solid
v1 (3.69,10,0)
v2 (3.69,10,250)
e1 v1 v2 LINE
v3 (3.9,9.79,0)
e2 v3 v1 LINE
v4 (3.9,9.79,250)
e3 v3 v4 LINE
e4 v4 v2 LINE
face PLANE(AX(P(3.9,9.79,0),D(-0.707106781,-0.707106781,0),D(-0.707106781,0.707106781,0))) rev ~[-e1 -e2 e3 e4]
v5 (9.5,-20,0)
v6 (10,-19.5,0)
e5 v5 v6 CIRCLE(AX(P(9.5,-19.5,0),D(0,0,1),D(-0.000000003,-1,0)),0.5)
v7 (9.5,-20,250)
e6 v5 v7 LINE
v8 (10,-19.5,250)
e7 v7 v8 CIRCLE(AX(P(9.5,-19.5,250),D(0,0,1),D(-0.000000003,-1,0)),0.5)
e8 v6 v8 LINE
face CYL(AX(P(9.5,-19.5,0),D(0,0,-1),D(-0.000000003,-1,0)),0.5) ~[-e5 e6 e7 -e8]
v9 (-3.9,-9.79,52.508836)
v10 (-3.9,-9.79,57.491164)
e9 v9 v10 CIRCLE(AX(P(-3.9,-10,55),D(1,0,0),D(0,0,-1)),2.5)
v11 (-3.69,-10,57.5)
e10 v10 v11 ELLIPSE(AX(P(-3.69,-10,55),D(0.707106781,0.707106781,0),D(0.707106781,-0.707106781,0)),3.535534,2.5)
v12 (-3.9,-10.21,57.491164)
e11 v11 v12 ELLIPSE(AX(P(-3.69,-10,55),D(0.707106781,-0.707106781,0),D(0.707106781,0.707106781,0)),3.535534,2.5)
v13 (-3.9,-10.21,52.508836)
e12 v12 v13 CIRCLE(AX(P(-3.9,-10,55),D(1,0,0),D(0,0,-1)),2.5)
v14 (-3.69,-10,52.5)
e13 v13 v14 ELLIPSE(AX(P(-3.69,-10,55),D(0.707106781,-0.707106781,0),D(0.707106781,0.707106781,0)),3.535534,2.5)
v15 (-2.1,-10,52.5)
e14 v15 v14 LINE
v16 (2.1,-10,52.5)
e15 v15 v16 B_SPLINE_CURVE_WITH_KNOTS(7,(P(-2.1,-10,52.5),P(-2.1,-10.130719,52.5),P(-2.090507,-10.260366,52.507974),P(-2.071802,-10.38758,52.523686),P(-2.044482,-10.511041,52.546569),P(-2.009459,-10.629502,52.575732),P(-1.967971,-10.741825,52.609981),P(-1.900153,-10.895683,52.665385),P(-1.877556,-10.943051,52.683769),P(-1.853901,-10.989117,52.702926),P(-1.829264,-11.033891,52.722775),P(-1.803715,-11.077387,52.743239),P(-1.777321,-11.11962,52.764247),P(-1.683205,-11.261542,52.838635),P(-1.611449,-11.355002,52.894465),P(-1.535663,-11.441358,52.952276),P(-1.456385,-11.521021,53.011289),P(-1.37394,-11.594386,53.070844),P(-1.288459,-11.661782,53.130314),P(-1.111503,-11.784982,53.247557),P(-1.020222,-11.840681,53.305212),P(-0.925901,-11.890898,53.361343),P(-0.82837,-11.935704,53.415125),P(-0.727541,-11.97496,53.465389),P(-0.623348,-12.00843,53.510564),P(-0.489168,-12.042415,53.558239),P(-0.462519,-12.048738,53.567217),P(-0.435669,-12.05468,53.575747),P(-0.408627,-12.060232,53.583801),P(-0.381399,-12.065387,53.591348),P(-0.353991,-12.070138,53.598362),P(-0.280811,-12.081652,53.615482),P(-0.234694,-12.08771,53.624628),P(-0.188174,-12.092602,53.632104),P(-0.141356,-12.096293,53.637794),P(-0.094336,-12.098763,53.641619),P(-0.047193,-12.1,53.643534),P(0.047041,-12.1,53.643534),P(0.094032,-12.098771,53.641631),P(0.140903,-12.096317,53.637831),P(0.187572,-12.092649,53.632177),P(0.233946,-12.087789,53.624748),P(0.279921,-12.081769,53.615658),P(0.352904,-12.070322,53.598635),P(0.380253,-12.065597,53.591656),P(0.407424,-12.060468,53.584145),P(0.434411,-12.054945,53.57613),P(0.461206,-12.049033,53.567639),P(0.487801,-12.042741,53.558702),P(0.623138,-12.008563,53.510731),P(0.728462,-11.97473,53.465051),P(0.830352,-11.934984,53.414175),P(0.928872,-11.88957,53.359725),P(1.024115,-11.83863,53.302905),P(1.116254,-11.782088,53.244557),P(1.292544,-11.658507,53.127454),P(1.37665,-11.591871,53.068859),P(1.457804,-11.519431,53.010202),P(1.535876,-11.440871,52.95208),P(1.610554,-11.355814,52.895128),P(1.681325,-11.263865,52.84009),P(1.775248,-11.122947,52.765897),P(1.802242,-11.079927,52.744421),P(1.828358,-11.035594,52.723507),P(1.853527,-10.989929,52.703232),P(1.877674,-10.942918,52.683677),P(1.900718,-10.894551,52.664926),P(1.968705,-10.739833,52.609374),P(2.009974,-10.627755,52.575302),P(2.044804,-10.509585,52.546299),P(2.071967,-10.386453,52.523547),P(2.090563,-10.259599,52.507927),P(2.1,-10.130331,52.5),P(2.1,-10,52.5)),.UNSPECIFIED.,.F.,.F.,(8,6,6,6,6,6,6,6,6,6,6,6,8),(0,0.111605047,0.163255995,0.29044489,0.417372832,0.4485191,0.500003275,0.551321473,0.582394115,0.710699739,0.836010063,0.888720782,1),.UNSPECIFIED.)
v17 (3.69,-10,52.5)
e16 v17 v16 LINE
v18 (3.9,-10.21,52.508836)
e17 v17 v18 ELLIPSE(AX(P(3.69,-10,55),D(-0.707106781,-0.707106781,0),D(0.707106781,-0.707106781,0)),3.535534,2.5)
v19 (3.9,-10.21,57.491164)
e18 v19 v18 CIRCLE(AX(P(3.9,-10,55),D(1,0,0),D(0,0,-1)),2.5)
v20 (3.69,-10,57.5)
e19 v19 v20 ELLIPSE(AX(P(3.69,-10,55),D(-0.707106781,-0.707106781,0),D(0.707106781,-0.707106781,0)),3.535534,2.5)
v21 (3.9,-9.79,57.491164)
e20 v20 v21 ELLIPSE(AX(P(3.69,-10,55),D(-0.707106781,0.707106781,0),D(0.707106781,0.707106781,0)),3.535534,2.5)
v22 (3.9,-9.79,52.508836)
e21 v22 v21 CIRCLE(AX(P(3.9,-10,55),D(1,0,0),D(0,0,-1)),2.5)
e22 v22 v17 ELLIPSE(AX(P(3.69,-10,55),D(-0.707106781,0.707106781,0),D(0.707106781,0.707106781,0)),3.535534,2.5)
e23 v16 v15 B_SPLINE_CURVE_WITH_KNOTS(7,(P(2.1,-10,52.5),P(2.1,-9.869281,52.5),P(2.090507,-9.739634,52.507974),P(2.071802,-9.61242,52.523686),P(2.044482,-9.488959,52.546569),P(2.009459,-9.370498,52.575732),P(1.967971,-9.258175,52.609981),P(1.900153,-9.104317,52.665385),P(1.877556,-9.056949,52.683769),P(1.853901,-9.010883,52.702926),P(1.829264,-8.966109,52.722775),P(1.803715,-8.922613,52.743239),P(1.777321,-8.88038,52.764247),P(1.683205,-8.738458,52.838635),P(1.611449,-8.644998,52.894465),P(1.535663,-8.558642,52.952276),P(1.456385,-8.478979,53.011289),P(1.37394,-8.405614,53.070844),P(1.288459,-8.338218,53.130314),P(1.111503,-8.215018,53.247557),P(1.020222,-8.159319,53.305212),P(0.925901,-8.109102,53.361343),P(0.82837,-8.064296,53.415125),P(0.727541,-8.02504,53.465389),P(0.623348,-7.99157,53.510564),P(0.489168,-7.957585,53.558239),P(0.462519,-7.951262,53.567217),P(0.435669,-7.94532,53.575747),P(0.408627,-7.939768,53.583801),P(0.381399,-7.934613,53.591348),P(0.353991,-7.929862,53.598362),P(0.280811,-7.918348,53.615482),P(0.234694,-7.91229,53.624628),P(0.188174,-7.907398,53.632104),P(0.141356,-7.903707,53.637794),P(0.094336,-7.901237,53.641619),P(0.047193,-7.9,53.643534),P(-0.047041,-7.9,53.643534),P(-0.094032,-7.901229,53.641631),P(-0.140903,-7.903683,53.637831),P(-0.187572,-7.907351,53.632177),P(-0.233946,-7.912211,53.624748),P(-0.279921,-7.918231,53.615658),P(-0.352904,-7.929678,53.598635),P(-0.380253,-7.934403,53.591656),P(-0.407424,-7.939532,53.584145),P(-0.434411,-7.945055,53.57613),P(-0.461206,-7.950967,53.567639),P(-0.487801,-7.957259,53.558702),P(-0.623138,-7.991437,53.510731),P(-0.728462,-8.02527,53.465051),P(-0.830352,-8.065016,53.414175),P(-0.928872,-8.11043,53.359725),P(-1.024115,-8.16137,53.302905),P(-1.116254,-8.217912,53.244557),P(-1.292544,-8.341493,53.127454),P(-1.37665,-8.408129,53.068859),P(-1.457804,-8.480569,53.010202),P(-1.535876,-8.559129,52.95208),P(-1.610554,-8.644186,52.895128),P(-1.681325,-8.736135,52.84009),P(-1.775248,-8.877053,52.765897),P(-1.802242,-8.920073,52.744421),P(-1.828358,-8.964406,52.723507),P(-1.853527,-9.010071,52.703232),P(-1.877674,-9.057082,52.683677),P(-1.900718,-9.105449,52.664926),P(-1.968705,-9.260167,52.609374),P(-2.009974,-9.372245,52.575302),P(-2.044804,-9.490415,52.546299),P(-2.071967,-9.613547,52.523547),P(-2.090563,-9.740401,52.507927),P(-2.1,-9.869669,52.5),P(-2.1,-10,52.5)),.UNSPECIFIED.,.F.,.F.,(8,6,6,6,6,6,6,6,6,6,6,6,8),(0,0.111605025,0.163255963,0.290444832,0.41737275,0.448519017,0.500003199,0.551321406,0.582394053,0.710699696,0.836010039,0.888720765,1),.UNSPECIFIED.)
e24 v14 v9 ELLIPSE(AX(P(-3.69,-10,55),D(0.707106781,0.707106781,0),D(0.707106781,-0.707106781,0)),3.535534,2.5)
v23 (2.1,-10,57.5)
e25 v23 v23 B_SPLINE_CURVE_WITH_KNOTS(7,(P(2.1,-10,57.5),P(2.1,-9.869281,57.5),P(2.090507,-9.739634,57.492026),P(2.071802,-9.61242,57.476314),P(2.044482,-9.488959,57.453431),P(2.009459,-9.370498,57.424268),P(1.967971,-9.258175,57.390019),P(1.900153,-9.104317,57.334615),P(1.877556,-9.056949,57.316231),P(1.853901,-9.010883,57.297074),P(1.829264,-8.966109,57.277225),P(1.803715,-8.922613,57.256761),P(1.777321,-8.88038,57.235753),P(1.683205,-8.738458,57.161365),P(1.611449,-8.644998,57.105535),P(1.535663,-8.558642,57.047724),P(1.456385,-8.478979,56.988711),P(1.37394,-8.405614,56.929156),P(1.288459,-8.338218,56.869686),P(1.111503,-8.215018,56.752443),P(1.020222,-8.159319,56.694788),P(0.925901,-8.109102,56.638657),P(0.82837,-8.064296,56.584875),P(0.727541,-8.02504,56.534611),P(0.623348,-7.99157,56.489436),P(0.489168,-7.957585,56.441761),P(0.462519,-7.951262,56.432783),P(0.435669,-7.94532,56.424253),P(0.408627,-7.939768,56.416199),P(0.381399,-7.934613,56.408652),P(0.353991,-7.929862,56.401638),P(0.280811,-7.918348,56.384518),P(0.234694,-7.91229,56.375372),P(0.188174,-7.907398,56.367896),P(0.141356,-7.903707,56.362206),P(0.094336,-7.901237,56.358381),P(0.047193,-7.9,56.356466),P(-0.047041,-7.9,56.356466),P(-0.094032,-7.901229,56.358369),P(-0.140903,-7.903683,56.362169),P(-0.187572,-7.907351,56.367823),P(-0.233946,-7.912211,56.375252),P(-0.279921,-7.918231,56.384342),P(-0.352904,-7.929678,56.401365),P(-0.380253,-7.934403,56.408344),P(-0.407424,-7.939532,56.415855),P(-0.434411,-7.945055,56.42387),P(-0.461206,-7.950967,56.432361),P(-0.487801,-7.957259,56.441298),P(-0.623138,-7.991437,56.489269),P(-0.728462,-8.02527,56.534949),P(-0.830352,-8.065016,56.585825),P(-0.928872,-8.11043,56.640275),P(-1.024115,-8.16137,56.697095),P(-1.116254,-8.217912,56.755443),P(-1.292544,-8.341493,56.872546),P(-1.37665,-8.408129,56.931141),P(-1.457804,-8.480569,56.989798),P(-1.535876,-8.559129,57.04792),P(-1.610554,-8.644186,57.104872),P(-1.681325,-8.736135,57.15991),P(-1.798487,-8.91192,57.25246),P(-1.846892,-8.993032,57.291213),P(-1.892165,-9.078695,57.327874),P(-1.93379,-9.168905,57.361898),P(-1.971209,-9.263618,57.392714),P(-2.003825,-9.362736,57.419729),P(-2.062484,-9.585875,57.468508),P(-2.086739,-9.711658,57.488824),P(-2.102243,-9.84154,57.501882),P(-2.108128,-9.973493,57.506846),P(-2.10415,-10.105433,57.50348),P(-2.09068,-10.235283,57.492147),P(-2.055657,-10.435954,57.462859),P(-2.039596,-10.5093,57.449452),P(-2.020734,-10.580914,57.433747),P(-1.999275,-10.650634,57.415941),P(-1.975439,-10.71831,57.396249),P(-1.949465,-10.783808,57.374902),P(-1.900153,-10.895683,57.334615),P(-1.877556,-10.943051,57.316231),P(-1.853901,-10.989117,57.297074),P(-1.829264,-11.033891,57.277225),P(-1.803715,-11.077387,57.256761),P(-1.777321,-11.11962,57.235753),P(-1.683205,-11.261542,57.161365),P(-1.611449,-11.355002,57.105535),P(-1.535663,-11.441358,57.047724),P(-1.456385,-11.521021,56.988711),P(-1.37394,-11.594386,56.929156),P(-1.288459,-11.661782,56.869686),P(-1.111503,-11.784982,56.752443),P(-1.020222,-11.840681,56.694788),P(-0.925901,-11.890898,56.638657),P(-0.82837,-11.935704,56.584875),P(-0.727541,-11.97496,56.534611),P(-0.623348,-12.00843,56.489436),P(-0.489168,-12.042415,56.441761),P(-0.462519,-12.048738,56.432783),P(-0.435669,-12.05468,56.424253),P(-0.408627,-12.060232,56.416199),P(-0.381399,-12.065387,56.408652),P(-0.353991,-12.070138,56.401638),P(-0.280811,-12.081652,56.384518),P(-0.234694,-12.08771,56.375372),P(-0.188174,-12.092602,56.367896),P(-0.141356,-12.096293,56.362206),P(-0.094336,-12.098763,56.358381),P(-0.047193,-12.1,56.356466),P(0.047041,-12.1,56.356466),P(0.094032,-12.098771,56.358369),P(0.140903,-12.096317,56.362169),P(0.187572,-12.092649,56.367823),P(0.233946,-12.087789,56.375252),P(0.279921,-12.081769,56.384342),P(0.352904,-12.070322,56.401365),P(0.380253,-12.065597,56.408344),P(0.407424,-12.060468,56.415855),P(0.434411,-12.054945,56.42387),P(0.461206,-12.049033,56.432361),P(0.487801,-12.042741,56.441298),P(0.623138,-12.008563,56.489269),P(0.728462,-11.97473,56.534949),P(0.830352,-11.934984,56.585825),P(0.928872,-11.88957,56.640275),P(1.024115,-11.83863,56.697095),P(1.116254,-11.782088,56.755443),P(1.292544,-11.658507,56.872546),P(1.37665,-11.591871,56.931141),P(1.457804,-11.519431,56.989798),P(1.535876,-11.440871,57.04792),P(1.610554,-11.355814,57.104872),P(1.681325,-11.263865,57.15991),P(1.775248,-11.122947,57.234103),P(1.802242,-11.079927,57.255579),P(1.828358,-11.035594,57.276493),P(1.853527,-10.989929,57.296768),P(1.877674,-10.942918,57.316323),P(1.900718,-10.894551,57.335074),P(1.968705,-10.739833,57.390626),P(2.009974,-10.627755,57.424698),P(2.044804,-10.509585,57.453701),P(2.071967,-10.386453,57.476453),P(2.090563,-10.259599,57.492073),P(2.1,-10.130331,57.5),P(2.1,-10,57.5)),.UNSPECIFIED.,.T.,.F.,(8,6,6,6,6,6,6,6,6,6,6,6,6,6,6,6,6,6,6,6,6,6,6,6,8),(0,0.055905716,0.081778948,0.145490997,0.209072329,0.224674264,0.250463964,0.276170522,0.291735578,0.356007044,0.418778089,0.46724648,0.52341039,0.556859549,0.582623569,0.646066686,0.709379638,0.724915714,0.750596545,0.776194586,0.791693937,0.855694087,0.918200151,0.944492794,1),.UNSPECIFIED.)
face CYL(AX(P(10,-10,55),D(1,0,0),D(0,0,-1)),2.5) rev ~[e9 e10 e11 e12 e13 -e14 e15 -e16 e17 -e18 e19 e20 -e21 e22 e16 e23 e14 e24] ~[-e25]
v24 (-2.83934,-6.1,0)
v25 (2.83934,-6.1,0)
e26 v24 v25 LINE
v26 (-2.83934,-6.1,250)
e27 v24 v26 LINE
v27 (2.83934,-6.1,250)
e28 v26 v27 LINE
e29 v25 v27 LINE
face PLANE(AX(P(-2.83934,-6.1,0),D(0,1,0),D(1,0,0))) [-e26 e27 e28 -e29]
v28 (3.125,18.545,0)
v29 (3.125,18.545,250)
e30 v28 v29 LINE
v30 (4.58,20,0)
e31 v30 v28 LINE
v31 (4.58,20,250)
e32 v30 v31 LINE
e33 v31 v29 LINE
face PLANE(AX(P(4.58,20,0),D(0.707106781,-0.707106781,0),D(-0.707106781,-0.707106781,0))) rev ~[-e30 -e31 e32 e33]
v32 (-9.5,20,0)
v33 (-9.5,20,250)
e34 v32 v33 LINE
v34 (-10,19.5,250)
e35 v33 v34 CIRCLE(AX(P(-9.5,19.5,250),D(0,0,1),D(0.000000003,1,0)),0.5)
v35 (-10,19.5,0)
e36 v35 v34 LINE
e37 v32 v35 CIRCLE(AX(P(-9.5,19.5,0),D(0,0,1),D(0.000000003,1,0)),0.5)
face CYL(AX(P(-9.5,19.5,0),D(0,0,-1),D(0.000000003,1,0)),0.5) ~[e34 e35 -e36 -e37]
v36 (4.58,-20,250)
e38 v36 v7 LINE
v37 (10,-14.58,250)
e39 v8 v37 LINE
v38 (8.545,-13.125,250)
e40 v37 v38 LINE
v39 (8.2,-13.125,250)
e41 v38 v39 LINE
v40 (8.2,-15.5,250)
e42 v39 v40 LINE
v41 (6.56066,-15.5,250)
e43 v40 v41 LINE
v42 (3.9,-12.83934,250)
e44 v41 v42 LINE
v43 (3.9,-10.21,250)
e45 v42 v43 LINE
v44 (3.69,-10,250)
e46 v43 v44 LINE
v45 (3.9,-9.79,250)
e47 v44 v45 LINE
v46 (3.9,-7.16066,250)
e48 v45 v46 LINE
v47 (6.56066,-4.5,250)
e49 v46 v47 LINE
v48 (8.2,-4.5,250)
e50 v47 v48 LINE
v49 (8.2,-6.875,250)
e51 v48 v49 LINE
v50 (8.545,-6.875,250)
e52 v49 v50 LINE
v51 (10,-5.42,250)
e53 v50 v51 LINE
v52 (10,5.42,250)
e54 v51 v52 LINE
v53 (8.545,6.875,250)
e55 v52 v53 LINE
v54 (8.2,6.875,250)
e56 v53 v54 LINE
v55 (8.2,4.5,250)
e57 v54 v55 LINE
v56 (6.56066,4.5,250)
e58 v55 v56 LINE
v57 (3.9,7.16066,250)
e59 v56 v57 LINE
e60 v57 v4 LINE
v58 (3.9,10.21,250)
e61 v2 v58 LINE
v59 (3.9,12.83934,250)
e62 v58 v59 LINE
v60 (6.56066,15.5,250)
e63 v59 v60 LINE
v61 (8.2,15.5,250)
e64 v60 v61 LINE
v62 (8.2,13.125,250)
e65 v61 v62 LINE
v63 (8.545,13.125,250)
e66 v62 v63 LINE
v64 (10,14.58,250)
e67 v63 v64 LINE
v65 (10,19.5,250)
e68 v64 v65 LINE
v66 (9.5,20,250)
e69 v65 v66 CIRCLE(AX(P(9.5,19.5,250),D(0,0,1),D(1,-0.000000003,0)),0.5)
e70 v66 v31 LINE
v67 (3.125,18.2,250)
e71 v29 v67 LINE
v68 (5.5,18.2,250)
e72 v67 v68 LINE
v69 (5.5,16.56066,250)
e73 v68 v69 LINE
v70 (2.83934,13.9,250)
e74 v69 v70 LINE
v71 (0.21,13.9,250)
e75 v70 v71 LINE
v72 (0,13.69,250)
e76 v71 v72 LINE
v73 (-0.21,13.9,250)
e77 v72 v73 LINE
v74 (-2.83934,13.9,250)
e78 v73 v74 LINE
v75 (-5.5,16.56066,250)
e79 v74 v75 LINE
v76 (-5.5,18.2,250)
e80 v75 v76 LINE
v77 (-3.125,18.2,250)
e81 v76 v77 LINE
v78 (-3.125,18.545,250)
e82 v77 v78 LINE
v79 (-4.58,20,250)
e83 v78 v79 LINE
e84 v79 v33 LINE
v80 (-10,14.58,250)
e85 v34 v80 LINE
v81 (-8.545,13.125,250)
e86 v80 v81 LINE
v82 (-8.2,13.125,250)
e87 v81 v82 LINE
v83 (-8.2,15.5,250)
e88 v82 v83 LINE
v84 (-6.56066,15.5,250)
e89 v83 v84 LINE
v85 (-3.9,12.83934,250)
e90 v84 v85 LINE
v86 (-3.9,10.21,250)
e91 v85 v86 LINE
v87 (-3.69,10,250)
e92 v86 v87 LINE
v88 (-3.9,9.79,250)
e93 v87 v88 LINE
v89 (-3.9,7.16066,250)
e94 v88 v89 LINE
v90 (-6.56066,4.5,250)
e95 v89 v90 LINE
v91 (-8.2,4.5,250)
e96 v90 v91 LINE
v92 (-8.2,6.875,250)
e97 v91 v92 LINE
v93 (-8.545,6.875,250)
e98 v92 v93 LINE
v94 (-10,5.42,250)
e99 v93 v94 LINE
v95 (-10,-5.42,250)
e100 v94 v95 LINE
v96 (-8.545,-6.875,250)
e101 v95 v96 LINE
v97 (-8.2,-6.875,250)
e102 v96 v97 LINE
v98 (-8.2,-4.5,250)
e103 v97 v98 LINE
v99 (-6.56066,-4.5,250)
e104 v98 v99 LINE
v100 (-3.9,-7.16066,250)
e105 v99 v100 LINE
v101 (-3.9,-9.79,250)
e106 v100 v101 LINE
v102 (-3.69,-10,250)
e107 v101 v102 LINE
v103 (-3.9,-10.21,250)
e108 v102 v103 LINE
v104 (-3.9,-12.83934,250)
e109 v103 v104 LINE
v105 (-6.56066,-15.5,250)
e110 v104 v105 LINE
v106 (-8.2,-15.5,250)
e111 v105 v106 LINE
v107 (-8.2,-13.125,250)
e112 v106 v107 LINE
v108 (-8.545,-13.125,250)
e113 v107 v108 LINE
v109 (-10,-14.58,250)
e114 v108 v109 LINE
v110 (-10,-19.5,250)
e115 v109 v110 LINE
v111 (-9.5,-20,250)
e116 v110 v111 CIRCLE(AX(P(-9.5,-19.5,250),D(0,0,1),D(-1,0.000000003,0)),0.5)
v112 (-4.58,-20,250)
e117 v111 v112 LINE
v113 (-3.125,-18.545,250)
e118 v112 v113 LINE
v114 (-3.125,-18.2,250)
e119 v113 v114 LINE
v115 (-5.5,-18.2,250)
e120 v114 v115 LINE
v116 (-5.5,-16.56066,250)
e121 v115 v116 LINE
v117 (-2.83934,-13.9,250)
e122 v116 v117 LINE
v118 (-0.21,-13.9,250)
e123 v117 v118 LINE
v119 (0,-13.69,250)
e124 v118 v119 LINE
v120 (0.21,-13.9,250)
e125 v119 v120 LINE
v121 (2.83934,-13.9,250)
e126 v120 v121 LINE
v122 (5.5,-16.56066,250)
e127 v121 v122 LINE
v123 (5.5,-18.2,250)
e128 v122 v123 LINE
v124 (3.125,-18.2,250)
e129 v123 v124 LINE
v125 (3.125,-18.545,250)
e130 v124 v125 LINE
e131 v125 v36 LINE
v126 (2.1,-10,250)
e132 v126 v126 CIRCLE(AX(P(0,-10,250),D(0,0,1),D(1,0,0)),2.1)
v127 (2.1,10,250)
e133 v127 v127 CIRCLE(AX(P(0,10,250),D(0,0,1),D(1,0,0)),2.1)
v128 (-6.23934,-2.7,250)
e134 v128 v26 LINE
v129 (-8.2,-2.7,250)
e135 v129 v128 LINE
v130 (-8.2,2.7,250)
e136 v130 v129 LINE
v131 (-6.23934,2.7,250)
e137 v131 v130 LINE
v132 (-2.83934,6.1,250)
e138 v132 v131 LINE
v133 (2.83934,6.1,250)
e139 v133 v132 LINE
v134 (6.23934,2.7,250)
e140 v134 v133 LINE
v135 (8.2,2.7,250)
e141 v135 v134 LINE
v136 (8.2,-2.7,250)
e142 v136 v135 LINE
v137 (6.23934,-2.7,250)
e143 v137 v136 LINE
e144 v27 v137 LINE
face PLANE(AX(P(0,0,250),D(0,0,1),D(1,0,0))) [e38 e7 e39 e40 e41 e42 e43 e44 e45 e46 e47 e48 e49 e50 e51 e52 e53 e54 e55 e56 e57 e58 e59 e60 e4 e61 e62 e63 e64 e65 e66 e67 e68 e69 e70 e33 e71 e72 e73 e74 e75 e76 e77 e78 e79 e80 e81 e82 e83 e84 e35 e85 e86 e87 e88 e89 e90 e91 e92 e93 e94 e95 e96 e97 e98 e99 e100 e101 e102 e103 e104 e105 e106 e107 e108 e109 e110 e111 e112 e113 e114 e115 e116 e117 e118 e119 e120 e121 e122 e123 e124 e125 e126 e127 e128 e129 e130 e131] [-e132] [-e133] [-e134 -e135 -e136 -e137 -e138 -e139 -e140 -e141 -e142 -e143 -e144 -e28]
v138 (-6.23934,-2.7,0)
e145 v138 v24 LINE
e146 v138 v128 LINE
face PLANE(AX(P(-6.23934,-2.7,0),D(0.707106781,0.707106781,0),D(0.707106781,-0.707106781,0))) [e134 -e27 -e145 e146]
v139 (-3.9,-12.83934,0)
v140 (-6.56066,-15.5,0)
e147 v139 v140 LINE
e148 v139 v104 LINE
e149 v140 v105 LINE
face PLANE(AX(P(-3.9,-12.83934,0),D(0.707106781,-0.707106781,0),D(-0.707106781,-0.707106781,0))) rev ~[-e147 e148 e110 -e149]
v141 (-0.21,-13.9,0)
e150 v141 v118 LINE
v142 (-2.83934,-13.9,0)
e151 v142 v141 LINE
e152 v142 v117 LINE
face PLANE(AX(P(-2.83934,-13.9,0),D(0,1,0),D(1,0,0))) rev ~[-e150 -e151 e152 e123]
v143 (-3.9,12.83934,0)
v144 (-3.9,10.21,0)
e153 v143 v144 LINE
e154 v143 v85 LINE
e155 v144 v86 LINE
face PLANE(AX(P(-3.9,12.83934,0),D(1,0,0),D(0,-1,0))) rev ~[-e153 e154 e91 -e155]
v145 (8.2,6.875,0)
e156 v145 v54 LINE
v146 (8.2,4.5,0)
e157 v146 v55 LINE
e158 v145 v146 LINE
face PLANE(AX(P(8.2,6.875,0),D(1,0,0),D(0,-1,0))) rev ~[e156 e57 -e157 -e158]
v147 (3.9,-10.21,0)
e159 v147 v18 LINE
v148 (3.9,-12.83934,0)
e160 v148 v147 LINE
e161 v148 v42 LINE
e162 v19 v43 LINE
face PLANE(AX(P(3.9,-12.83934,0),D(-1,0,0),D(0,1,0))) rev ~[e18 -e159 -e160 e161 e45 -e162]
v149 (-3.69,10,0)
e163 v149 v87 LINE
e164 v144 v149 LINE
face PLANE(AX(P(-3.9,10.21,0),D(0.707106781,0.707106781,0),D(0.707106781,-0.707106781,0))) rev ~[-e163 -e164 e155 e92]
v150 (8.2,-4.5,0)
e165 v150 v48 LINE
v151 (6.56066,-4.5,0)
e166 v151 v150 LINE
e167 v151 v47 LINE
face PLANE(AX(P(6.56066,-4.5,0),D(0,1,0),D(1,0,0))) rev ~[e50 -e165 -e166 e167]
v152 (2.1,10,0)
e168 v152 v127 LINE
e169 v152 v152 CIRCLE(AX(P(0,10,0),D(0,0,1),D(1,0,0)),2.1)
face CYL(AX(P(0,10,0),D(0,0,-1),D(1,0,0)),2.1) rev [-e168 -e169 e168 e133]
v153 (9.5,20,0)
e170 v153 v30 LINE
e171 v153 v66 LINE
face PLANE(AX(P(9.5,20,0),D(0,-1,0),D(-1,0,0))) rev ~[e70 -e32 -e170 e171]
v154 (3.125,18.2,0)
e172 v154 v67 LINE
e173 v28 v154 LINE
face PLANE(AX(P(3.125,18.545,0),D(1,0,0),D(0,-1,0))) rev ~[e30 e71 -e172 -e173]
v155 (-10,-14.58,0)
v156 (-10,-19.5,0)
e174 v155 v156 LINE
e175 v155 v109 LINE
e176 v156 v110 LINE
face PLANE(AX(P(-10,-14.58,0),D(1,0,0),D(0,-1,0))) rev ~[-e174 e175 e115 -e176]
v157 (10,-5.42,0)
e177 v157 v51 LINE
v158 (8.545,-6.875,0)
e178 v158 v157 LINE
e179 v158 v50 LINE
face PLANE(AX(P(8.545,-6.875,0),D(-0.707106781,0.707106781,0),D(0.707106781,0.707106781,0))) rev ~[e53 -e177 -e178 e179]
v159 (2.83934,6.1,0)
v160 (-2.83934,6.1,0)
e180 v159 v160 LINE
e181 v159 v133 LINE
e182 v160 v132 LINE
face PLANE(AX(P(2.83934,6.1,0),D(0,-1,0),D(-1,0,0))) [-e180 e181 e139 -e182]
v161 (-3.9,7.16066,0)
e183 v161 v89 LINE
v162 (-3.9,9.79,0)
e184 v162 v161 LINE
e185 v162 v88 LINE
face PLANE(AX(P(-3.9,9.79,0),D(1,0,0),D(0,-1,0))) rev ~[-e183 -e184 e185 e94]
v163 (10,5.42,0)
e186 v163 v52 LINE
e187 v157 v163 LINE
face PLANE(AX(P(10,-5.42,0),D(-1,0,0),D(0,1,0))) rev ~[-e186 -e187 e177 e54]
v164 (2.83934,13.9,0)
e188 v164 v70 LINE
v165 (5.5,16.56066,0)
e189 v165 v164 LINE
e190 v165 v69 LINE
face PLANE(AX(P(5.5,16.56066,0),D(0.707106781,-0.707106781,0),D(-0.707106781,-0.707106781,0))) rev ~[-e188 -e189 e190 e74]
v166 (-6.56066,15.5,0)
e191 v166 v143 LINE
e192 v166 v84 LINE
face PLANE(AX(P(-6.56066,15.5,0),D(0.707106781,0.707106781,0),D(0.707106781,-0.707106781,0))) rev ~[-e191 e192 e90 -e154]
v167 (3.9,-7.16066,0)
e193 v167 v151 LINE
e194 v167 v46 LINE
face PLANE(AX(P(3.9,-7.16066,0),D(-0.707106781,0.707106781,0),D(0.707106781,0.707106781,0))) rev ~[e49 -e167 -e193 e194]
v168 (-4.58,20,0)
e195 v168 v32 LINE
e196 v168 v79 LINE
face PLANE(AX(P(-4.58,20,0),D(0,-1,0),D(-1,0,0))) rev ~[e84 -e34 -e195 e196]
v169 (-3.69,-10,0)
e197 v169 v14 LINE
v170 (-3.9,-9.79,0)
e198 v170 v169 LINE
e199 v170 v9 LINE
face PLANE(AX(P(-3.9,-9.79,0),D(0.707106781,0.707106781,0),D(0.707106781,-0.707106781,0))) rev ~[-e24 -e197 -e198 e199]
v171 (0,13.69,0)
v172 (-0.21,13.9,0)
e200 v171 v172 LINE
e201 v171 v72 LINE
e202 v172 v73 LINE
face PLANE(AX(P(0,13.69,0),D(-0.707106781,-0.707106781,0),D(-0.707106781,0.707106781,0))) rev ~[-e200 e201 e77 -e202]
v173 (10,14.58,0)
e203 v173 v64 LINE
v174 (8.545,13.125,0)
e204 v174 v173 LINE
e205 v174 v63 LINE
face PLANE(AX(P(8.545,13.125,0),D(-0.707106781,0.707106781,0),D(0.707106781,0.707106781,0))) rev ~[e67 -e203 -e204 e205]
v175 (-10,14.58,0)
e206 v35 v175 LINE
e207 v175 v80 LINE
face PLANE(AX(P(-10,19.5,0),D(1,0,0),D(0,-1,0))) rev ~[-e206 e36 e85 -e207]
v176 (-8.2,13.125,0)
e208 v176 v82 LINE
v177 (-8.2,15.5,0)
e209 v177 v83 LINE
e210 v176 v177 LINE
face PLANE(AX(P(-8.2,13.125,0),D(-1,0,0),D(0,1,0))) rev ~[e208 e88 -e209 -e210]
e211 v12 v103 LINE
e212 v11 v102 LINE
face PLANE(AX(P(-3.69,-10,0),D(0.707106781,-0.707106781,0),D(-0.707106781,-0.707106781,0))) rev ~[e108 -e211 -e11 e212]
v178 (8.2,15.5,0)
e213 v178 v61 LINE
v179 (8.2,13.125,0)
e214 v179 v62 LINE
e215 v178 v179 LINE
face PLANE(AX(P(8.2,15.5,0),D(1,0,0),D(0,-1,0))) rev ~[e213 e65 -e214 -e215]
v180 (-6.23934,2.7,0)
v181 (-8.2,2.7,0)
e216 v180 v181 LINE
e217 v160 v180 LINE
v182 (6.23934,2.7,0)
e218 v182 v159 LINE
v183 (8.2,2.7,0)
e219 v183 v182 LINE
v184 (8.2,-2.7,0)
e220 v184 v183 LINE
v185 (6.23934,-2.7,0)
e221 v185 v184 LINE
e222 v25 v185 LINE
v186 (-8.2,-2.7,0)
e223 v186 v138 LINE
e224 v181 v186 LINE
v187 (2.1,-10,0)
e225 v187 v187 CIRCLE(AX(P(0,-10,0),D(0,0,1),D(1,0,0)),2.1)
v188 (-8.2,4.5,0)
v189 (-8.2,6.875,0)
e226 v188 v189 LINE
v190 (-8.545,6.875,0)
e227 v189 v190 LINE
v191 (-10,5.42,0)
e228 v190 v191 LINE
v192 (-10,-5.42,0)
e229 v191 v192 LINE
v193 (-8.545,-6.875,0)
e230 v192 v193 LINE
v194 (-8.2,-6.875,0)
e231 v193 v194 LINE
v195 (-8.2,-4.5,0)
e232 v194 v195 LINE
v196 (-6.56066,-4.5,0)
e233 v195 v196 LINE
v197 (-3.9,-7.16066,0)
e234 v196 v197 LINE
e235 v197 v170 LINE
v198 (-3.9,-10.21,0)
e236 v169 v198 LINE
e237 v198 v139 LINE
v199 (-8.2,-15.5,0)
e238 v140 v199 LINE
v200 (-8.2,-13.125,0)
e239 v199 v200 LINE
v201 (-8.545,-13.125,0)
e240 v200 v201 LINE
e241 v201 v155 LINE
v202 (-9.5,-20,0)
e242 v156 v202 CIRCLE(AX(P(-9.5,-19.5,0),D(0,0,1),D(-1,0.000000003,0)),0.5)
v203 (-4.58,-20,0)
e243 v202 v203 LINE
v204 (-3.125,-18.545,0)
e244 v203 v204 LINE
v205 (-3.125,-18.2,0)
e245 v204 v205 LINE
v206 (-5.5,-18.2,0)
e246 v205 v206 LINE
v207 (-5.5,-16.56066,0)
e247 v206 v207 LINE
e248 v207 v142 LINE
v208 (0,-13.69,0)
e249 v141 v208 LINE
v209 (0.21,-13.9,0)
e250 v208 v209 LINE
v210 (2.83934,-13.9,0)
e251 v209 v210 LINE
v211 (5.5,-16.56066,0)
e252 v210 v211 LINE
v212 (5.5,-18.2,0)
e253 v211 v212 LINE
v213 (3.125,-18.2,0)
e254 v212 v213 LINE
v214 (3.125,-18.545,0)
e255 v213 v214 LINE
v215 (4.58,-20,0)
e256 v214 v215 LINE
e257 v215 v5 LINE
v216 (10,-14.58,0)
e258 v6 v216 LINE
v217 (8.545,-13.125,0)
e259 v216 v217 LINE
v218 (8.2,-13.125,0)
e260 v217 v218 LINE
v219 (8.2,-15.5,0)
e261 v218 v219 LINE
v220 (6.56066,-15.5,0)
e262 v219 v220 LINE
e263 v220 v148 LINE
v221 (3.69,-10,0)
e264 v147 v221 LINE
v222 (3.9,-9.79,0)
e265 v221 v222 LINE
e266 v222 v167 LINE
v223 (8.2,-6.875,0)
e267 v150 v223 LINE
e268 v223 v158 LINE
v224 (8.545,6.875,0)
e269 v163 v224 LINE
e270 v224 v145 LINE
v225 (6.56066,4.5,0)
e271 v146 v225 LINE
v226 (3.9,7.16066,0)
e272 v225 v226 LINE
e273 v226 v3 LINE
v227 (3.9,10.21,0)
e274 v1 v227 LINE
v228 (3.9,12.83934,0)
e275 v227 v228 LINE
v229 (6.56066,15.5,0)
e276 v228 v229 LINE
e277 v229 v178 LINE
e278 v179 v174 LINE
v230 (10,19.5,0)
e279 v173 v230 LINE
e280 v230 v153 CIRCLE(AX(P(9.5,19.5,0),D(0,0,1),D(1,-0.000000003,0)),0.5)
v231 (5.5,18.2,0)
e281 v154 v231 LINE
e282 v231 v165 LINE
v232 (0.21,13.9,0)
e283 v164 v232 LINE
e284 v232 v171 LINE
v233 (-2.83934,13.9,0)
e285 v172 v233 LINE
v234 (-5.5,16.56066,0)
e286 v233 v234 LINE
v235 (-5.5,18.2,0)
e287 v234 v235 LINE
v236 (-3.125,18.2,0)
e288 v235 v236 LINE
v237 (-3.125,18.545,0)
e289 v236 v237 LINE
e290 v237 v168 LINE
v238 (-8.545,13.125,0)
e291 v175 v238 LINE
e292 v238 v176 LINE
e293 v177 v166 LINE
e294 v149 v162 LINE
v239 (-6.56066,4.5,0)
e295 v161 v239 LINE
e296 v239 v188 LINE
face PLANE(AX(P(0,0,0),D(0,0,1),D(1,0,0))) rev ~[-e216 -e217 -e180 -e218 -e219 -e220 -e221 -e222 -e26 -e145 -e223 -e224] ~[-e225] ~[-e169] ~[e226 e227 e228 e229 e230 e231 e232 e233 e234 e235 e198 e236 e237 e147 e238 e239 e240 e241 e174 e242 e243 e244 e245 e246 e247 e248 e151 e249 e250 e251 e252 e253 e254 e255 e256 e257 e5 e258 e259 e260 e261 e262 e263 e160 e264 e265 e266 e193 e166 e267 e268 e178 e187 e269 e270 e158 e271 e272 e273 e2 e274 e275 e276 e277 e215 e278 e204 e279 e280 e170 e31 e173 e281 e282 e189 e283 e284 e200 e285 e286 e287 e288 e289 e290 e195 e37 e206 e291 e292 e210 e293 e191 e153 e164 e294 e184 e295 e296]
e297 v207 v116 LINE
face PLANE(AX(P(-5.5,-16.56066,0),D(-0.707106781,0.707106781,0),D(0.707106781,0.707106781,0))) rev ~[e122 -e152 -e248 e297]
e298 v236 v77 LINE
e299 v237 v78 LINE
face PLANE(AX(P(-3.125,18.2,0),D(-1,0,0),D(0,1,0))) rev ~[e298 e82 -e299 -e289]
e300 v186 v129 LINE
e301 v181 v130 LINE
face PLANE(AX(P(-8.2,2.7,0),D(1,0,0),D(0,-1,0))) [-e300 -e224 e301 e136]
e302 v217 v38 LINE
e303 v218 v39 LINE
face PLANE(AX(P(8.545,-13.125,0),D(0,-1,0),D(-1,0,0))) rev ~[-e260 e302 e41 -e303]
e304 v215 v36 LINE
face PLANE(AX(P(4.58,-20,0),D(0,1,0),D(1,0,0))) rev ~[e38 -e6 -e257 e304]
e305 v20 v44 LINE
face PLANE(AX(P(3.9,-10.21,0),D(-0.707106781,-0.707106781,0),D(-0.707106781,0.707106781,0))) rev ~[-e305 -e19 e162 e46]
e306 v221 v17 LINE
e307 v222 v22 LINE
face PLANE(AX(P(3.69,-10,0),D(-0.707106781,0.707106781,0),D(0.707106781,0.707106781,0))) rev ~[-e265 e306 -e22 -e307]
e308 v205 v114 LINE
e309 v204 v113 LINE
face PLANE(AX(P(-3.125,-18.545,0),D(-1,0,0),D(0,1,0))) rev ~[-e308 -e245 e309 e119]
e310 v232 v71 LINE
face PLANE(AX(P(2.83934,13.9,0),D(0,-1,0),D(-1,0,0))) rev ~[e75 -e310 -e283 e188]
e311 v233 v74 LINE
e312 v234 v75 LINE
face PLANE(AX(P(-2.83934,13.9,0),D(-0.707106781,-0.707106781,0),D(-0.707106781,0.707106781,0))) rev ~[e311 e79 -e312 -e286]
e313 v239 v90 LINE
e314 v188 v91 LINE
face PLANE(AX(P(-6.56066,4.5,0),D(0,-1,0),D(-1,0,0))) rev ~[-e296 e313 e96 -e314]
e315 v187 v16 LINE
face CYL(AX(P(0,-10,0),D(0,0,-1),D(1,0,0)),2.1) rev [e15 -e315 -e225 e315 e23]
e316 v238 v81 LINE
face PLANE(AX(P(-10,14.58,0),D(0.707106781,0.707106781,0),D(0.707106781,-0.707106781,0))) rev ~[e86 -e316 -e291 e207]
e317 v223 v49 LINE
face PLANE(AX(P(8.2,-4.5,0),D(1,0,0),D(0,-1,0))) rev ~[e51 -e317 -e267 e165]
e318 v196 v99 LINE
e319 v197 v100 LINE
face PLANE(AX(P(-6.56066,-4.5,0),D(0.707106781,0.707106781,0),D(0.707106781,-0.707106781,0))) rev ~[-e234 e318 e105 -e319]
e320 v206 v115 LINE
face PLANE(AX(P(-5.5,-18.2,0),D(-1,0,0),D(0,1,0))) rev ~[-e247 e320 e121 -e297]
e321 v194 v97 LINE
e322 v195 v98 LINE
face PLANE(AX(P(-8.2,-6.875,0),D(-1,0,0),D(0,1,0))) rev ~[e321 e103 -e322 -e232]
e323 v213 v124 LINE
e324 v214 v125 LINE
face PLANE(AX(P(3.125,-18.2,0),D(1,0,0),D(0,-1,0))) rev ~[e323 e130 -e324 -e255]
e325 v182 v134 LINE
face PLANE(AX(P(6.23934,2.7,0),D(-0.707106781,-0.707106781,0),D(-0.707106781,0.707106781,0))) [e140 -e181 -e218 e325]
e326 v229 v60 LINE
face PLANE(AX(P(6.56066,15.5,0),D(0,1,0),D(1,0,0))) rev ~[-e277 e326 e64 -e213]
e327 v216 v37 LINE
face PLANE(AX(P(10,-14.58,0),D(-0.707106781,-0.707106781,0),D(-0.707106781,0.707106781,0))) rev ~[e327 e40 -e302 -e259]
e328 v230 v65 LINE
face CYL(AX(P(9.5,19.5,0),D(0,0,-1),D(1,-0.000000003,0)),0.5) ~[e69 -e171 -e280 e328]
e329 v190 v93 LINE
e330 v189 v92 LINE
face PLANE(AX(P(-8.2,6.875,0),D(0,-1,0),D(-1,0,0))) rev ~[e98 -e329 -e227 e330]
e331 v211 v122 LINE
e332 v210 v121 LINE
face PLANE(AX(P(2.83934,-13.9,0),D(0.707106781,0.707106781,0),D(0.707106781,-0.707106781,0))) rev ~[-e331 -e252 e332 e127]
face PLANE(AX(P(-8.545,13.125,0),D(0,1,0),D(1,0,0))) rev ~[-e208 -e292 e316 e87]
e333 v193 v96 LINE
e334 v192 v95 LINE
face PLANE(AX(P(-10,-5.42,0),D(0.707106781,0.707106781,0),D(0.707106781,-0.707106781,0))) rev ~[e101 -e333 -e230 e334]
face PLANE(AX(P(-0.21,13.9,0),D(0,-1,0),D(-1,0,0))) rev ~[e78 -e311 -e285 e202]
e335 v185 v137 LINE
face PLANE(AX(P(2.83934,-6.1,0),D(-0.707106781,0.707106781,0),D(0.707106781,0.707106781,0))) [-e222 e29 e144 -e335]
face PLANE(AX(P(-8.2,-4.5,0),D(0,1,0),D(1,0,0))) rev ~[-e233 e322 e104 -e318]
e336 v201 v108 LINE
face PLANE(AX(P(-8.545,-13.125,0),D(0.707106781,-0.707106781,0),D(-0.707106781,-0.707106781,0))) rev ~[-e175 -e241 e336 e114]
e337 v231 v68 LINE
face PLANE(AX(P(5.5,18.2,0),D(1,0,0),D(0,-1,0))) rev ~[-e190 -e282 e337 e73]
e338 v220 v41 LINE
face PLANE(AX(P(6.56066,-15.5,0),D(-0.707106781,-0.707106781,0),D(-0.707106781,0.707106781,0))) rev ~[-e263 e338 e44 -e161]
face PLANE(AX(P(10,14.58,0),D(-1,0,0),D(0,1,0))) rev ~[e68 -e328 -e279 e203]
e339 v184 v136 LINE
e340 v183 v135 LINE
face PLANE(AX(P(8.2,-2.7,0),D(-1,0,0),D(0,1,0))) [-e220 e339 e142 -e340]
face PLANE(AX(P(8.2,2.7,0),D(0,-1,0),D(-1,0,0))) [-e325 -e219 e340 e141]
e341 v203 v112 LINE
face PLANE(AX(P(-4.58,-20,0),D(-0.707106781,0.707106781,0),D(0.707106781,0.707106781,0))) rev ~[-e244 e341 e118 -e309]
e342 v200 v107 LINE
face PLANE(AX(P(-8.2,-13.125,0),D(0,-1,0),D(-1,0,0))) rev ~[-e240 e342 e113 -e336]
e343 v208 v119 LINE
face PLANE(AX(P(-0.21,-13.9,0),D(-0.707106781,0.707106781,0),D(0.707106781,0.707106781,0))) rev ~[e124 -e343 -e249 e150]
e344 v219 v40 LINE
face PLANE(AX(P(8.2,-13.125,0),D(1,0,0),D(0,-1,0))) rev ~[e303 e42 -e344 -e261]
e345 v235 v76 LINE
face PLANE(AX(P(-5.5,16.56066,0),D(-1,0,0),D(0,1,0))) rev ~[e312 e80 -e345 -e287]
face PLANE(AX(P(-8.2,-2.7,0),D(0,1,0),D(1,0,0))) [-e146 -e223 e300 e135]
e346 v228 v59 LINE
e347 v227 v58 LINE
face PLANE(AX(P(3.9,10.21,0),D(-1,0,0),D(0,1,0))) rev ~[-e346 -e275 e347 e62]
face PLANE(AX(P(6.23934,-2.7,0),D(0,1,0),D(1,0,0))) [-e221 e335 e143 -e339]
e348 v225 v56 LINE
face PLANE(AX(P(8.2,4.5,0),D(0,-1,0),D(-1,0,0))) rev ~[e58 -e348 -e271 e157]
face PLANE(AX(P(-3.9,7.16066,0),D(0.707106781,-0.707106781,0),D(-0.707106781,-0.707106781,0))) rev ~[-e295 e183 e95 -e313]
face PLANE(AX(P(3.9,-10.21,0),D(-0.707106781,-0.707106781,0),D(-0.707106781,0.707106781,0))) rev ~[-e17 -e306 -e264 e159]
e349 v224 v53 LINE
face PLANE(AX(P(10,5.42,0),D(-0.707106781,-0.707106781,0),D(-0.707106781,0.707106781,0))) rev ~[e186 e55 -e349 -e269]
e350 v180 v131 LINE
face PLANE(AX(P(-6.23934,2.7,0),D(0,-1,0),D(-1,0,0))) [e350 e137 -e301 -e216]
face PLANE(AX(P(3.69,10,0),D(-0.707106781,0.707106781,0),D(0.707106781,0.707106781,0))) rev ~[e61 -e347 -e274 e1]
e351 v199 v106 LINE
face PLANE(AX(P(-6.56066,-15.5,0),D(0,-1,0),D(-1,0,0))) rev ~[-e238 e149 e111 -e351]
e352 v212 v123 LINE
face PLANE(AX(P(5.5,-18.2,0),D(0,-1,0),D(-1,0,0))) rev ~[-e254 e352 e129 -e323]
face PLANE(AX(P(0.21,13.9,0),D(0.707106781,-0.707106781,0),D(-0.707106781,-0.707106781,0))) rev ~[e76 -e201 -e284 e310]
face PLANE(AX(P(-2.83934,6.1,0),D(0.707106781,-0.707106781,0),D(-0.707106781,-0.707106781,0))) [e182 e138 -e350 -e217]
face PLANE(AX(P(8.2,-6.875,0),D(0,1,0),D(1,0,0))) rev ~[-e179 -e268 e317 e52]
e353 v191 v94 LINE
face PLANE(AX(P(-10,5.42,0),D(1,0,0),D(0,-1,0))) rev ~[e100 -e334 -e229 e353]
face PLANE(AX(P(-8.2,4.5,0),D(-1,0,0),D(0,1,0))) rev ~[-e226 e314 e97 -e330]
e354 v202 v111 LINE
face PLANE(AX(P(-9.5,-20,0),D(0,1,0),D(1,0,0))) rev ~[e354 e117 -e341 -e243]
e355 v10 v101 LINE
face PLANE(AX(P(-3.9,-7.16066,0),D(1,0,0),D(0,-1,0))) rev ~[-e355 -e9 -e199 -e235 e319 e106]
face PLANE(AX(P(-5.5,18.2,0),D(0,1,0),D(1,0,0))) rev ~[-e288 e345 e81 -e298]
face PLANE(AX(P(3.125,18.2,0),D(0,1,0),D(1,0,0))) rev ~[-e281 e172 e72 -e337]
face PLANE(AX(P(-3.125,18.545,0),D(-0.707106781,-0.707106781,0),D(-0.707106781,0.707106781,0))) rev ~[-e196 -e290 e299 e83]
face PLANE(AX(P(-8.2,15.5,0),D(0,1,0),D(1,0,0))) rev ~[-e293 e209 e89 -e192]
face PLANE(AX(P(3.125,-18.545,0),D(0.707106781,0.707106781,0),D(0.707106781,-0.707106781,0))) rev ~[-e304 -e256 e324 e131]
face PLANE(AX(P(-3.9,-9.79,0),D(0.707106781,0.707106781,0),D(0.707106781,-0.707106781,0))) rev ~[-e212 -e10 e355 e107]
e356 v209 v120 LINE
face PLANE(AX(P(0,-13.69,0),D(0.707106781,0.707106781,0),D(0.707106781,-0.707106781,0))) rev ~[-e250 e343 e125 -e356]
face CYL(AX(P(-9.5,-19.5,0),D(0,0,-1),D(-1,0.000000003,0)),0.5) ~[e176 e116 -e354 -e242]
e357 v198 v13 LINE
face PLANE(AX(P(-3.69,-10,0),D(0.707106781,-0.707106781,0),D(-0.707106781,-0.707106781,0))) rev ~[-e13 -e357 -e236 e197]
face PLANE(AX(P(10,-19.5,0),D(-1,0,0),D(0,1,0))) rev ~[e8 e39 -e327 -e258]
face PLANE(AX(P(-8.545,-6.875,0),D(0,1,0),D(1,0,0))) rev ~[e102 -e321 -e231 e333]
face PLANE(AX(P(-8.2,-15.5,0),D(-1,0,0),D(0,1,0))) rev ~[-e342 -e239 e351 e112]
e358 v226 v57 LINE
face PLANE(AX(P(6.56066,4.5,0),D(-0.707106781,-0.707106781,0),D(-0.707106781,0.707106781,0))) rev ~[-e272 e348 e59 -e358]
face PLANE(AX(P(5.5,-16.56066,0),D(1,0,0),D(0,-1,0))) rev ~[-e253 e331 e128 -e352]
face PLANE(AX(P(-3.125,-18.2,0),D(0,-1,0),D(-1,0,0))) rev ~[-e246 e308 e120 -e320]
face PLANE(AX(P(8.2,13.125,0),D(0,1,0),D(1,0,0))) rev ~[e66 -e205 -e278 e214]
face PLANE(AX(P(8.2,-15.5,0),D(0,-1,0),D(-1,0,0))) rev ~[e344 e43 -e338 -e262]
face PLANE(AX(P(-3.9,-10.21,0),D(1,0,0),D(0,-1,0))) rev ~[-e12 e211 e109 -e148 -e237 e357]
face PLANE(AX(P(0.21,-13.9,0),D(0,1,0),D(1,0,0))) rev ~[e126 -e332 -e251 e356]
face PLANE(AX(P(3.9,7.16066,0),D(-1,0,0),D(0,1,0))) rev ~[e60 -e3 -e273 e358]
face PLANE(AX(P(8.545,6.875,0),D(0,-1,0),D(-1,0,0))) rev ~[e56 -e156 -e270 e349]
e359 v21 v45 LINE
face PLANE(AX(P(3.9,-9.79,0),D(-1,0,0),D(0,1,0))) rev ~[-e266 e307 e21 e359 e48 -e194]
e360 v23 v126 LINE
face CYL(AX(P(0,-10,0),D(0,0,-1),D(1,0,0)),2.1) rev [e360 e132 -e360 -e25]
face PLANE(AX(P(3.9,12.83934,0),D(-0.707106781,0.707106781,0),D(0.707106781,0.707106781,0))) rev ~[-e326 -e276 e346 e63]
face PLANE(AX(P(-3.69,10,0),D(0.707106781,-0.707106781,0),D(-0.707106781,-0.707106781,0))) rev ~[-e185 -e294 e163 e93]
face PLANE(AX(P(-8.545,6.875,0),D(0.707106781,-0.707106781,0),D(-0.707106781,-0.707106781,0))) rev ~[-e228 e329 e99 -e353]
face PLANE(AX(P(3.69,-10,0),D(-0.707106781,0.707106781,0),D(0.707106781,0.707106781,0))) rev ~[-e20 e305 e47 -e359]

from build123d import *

# Parameters (mm, degrees)
ESBO_O1_R                = 2.1
RESSALTO_EXTRUS_O1_DEPTH = 250
CORTE_EXTRUS_O1_REACH    = 253.595
ESBO_O2_R                = 2.5


with BuildPart() as part:
    # Esboço1 → Ressalto-extrusão1 (new body)
    with BuildSketch(Plane.XY):
        with BuildLine():
            Line((3.9, 9.79), (3.69, 10))
            Line((3.69, 10), (3.9, 10.21))
            Line((3.9, 10.21), (3.9, 12.839339828))
            Line((3.9, 12.839339828), (6.560660172, 15.5))
            Line((6.560660172, 15.5), (8.2, 15.5))
            Line((8.2, 15.5), (8.2, 13.125))
            Line((8.2, 13.125), (8.545, 13.125))
            Line((8.545, 13.125), (10, 14.58))
            Line((10, 14.58), (10, 19.5))
            ThreePointArc((10, 19.5), (9.853553391, 19.853553391), (9.5, 20))
            Line((9.5, 20), (4.58, 20))
            Line((4.58, 20), (3.125, 18.545))
            Line((3.125, 18.545), (3.125, 18.2))
            Line((3.125, 18.2), (5.5, 18.2))
            Line((5.5, 18.2), (5.5, 16.560660172))
            Line((5.5, 16.560660172), (2.839339828, 13.9))
            Line((2.839339828, 13.9), (0.21, 13.9))
            Line((0.21, 13.9), (0, 13.69))
            Line((0, 13.69), (-0.21, 13.9))
            Line((-0.21, 13.9), (-2.839339828, 13.9))
            Line((-2.839339828, 13.9), (-5.5, 16.560660172))
            Line((-5.5, 16.560660172), (-5.5, 18.2))
            Line((-5.5, 18.2), (-3.125, 18.2))
            Line((-3.125, 18.2), (-3.125, 18.545))
            Line((-3.125, 18.545), (-4.58, 20))
            Line((-4.58, 20), (-9.5, 20))
            ThreePointArc((-9.5, 20), (-9.853553391, 19.853553391), (-10, 19.5))
            Line((-10, 19.5), (-10, 14.58))
            Line((-10, 14.58), (-8.545, 13.125))
            Line((-8.545, 13.125), (-8.2, 13.125))
            Line((-8.2, 13.125), (-8.2, 15.5))
            Line((-8.2, 15.5), (-6.560660172, 15.5))
            Line((-6.560660172, 15.5), (-3.9, 12.839339828))
            Line((-3.9, 12.839339828), (-3.9, 10.21))
            Line((-3.9, 10.21), (-3.69, 10))
            Line((-3.69, 10), (-3.9, 9.79))
            Line((-3.9, 9.79), (-3.9, 7.160660172))
            Line((-3.9, 7.160660172), (-6.560660172, 4.5))
            Line((-6.560660172, 4.5), (-8.2, 4.5))
            Line((-8.2, 4.5), (-8.2, 6.875))
            Line((-8.2, 6.875), (-8.545, 6.875))
            Line((-8.545, 6.875), (-10, 5.42))
            Line((-10, 5.42), (-10, -5.42))
            Line((-10, -5.42), (-8.545, -6.875))
            Line((-8.545, -6.875), (-8.2, -6.875))
            Line((-8.2, -6.875), (-8.2, -4.5))
            Line((-8.2, -4.5), (-6.560660172, -4.5))
            Line((-6.560660172, -4.5), (-3.9, -7.160660172))
            Line((-3.9, -7.160660172), (-3.9, -9.79))
            Line((-3.9, -9.79), (-3.69, -10))
            Line((-3.69, -10), (-3.9, -10.21))
            Line((-3.9, -10.21), (-3.9, -12.839339828))
            Line((-3.9, -12.839339828), (-6.560660172, -15.5))
            Line((-6.560660172, -15.5), (-8.2, -15.5))
            Line((-8.2, -15.5), (-8.2, -13.125))
            Line((-8.2, -13.125), (-8.545, -13.125))
            Line((-8.545, -13.125), (-10, -14.58))
            Line((-10, -14.58), (-10, -19.5))
            ThreePointArc((-10, -19.5), (-9.853553391, -19.853553391), (-9.5, -20))
            Line((-9.5, -20), (-4.58, -20))
            Line((-4.58, -20), (-3.125, -18.545))
            Line((-3.125, -18.545), (-3.125, -18.2))
            Line((-3.125, -18.2), (-5.5, -18.2))
            Line((-5.5, -18.2), (-5.5, -16.560660172))
            Line((-5.5, -16.560660172), (-2.839339828, -13.9))
            Line((-2.839339828, -13.9), (-0.21, -13.9))
            Line((-0.21, -13.9), (0, -13.69))
            Line((0, -13.69), (0.21, -13.9))
            Line((0.21, -13.9), (2.839339828, -13.9))
            Line((2.839339828, -13.9), (5.5, -16.560660172))
            Line((5.5, -16.560660172), (5.5, -18.2))
            Line((5.5, -18.2), (3.125, -18.2))
            Line((3.125, -18.2), (3.125, -18.545))
            Line((3.125, -18.545), (4.58, -20))
            Line((4.58, -20), (9.5, -20))
            ThreePointArc((9.5, -20), (9.853553391, -19.853553391), (10, -19.5))
            Line((10, -19.5), (10, -14.58))
            Line((10, -14.58), (8.545, -13.125))
            Line((8.545, -13.125), (8.2, -13.125))
            Line((8.2, -13.125), (8.2, -15.5))
            Line((8.2, -15.5), (6.560660172, -15.5))
            Line((6.560660172, -15.5), (3.9, -12.839339828))
            Line((3.9, -12.839339828), (3.9, -10.21))
            Line((3.9, -10.21), (3.69, -10))
            Line((3.69, -10), (3.9, -9.79))
            Line((3.9, -9.79), (3.9, -7.160660172))
            Line((3.9, -7.160660172), (6.560660172, -4.5))
            Line((6.560660172, -4.5), (8.2, -4.5))
            Line((8.2, -4.5), (8.2, -6.875))
            Line((8.2, -6.875), (8.545, -6.875))
            Line((8.545, -6.875), (10, -5.42))
            Line((10, -5.42), (10, 5.42))
            Line((10, 5.42), (8.545, 6.875))
            Line((8.545, 6.875), (8.2, 6.875))
            Line((8.2, 6.875), (8.2, 4.5))
            Line((8.2, 4.5), (6.560660172, 4.5))
            Line((6.560660172, 4.5), (3.9, 7.160660172))
            Line((3.9, 7.160660172), (3.9, 9.79))
        make_face()
        with Locations((0, -10)):
            Circle(ESBO_O1_R, mode=Mode.SUBTRACT)
        with Locations((0, 10)):
            Circle(ESBO_O1_R, mode=Mode.SUBTRACT)
        Polygon((8.2, -2.7), (8.2, 2.7), (6.239339828, 2.7), (2.839339828, 6.1), (-2.839339828, 6.1), (-6.239339828, 2.7), (-8.2, 2.7), (-8.2, -2.7), (-6.239339828, -2.7), (-2.839339828, -6.1), (2.839339828, -6.1), (6.239339828, -2.7), align=None, mode=Mode.SUBTRACT)
    extrude(amount=RESSALTO_EXTRUS_O1_DEPTH)

    # Corte-extrusão1: up to this face of the body (flat: up to its plane)
    corte_extrus_o1_end = Plane(part.part.faces().sort_by_distance((-10, 0, 125))[0])
    # Esboço2 → Corte-extrusão1 (cut, up to the picked face)
    with BuildSketch(Plane(origin=(10, 0, 0), x_dir=(0, 0, -1), z_dir=(1, 0, 0)), mode=Mode.PRIVATE) as corte_extrus_o1_sk1:
        with Locations((-55, -10)):
            Circle(ESBO_O2_R)
    corte_extrus_o1_tool1 = split(extrude(corte_extrus_o1_sk1.sketch, amount=-CORTE_EXTRUS_O1_REACH, mode=Mode.PRIVATE), bisect_by=corte_extrus_o1_end, keep=Keep.BOTH, mode=Mode.PRIVATE)
    add(corte_extrus_o1_tool1.solids().sort_by(Axis((10, -10, 55), (-1, 0, 0)))[0], mode=Mode.SUBTRACT)


solid = part.part
